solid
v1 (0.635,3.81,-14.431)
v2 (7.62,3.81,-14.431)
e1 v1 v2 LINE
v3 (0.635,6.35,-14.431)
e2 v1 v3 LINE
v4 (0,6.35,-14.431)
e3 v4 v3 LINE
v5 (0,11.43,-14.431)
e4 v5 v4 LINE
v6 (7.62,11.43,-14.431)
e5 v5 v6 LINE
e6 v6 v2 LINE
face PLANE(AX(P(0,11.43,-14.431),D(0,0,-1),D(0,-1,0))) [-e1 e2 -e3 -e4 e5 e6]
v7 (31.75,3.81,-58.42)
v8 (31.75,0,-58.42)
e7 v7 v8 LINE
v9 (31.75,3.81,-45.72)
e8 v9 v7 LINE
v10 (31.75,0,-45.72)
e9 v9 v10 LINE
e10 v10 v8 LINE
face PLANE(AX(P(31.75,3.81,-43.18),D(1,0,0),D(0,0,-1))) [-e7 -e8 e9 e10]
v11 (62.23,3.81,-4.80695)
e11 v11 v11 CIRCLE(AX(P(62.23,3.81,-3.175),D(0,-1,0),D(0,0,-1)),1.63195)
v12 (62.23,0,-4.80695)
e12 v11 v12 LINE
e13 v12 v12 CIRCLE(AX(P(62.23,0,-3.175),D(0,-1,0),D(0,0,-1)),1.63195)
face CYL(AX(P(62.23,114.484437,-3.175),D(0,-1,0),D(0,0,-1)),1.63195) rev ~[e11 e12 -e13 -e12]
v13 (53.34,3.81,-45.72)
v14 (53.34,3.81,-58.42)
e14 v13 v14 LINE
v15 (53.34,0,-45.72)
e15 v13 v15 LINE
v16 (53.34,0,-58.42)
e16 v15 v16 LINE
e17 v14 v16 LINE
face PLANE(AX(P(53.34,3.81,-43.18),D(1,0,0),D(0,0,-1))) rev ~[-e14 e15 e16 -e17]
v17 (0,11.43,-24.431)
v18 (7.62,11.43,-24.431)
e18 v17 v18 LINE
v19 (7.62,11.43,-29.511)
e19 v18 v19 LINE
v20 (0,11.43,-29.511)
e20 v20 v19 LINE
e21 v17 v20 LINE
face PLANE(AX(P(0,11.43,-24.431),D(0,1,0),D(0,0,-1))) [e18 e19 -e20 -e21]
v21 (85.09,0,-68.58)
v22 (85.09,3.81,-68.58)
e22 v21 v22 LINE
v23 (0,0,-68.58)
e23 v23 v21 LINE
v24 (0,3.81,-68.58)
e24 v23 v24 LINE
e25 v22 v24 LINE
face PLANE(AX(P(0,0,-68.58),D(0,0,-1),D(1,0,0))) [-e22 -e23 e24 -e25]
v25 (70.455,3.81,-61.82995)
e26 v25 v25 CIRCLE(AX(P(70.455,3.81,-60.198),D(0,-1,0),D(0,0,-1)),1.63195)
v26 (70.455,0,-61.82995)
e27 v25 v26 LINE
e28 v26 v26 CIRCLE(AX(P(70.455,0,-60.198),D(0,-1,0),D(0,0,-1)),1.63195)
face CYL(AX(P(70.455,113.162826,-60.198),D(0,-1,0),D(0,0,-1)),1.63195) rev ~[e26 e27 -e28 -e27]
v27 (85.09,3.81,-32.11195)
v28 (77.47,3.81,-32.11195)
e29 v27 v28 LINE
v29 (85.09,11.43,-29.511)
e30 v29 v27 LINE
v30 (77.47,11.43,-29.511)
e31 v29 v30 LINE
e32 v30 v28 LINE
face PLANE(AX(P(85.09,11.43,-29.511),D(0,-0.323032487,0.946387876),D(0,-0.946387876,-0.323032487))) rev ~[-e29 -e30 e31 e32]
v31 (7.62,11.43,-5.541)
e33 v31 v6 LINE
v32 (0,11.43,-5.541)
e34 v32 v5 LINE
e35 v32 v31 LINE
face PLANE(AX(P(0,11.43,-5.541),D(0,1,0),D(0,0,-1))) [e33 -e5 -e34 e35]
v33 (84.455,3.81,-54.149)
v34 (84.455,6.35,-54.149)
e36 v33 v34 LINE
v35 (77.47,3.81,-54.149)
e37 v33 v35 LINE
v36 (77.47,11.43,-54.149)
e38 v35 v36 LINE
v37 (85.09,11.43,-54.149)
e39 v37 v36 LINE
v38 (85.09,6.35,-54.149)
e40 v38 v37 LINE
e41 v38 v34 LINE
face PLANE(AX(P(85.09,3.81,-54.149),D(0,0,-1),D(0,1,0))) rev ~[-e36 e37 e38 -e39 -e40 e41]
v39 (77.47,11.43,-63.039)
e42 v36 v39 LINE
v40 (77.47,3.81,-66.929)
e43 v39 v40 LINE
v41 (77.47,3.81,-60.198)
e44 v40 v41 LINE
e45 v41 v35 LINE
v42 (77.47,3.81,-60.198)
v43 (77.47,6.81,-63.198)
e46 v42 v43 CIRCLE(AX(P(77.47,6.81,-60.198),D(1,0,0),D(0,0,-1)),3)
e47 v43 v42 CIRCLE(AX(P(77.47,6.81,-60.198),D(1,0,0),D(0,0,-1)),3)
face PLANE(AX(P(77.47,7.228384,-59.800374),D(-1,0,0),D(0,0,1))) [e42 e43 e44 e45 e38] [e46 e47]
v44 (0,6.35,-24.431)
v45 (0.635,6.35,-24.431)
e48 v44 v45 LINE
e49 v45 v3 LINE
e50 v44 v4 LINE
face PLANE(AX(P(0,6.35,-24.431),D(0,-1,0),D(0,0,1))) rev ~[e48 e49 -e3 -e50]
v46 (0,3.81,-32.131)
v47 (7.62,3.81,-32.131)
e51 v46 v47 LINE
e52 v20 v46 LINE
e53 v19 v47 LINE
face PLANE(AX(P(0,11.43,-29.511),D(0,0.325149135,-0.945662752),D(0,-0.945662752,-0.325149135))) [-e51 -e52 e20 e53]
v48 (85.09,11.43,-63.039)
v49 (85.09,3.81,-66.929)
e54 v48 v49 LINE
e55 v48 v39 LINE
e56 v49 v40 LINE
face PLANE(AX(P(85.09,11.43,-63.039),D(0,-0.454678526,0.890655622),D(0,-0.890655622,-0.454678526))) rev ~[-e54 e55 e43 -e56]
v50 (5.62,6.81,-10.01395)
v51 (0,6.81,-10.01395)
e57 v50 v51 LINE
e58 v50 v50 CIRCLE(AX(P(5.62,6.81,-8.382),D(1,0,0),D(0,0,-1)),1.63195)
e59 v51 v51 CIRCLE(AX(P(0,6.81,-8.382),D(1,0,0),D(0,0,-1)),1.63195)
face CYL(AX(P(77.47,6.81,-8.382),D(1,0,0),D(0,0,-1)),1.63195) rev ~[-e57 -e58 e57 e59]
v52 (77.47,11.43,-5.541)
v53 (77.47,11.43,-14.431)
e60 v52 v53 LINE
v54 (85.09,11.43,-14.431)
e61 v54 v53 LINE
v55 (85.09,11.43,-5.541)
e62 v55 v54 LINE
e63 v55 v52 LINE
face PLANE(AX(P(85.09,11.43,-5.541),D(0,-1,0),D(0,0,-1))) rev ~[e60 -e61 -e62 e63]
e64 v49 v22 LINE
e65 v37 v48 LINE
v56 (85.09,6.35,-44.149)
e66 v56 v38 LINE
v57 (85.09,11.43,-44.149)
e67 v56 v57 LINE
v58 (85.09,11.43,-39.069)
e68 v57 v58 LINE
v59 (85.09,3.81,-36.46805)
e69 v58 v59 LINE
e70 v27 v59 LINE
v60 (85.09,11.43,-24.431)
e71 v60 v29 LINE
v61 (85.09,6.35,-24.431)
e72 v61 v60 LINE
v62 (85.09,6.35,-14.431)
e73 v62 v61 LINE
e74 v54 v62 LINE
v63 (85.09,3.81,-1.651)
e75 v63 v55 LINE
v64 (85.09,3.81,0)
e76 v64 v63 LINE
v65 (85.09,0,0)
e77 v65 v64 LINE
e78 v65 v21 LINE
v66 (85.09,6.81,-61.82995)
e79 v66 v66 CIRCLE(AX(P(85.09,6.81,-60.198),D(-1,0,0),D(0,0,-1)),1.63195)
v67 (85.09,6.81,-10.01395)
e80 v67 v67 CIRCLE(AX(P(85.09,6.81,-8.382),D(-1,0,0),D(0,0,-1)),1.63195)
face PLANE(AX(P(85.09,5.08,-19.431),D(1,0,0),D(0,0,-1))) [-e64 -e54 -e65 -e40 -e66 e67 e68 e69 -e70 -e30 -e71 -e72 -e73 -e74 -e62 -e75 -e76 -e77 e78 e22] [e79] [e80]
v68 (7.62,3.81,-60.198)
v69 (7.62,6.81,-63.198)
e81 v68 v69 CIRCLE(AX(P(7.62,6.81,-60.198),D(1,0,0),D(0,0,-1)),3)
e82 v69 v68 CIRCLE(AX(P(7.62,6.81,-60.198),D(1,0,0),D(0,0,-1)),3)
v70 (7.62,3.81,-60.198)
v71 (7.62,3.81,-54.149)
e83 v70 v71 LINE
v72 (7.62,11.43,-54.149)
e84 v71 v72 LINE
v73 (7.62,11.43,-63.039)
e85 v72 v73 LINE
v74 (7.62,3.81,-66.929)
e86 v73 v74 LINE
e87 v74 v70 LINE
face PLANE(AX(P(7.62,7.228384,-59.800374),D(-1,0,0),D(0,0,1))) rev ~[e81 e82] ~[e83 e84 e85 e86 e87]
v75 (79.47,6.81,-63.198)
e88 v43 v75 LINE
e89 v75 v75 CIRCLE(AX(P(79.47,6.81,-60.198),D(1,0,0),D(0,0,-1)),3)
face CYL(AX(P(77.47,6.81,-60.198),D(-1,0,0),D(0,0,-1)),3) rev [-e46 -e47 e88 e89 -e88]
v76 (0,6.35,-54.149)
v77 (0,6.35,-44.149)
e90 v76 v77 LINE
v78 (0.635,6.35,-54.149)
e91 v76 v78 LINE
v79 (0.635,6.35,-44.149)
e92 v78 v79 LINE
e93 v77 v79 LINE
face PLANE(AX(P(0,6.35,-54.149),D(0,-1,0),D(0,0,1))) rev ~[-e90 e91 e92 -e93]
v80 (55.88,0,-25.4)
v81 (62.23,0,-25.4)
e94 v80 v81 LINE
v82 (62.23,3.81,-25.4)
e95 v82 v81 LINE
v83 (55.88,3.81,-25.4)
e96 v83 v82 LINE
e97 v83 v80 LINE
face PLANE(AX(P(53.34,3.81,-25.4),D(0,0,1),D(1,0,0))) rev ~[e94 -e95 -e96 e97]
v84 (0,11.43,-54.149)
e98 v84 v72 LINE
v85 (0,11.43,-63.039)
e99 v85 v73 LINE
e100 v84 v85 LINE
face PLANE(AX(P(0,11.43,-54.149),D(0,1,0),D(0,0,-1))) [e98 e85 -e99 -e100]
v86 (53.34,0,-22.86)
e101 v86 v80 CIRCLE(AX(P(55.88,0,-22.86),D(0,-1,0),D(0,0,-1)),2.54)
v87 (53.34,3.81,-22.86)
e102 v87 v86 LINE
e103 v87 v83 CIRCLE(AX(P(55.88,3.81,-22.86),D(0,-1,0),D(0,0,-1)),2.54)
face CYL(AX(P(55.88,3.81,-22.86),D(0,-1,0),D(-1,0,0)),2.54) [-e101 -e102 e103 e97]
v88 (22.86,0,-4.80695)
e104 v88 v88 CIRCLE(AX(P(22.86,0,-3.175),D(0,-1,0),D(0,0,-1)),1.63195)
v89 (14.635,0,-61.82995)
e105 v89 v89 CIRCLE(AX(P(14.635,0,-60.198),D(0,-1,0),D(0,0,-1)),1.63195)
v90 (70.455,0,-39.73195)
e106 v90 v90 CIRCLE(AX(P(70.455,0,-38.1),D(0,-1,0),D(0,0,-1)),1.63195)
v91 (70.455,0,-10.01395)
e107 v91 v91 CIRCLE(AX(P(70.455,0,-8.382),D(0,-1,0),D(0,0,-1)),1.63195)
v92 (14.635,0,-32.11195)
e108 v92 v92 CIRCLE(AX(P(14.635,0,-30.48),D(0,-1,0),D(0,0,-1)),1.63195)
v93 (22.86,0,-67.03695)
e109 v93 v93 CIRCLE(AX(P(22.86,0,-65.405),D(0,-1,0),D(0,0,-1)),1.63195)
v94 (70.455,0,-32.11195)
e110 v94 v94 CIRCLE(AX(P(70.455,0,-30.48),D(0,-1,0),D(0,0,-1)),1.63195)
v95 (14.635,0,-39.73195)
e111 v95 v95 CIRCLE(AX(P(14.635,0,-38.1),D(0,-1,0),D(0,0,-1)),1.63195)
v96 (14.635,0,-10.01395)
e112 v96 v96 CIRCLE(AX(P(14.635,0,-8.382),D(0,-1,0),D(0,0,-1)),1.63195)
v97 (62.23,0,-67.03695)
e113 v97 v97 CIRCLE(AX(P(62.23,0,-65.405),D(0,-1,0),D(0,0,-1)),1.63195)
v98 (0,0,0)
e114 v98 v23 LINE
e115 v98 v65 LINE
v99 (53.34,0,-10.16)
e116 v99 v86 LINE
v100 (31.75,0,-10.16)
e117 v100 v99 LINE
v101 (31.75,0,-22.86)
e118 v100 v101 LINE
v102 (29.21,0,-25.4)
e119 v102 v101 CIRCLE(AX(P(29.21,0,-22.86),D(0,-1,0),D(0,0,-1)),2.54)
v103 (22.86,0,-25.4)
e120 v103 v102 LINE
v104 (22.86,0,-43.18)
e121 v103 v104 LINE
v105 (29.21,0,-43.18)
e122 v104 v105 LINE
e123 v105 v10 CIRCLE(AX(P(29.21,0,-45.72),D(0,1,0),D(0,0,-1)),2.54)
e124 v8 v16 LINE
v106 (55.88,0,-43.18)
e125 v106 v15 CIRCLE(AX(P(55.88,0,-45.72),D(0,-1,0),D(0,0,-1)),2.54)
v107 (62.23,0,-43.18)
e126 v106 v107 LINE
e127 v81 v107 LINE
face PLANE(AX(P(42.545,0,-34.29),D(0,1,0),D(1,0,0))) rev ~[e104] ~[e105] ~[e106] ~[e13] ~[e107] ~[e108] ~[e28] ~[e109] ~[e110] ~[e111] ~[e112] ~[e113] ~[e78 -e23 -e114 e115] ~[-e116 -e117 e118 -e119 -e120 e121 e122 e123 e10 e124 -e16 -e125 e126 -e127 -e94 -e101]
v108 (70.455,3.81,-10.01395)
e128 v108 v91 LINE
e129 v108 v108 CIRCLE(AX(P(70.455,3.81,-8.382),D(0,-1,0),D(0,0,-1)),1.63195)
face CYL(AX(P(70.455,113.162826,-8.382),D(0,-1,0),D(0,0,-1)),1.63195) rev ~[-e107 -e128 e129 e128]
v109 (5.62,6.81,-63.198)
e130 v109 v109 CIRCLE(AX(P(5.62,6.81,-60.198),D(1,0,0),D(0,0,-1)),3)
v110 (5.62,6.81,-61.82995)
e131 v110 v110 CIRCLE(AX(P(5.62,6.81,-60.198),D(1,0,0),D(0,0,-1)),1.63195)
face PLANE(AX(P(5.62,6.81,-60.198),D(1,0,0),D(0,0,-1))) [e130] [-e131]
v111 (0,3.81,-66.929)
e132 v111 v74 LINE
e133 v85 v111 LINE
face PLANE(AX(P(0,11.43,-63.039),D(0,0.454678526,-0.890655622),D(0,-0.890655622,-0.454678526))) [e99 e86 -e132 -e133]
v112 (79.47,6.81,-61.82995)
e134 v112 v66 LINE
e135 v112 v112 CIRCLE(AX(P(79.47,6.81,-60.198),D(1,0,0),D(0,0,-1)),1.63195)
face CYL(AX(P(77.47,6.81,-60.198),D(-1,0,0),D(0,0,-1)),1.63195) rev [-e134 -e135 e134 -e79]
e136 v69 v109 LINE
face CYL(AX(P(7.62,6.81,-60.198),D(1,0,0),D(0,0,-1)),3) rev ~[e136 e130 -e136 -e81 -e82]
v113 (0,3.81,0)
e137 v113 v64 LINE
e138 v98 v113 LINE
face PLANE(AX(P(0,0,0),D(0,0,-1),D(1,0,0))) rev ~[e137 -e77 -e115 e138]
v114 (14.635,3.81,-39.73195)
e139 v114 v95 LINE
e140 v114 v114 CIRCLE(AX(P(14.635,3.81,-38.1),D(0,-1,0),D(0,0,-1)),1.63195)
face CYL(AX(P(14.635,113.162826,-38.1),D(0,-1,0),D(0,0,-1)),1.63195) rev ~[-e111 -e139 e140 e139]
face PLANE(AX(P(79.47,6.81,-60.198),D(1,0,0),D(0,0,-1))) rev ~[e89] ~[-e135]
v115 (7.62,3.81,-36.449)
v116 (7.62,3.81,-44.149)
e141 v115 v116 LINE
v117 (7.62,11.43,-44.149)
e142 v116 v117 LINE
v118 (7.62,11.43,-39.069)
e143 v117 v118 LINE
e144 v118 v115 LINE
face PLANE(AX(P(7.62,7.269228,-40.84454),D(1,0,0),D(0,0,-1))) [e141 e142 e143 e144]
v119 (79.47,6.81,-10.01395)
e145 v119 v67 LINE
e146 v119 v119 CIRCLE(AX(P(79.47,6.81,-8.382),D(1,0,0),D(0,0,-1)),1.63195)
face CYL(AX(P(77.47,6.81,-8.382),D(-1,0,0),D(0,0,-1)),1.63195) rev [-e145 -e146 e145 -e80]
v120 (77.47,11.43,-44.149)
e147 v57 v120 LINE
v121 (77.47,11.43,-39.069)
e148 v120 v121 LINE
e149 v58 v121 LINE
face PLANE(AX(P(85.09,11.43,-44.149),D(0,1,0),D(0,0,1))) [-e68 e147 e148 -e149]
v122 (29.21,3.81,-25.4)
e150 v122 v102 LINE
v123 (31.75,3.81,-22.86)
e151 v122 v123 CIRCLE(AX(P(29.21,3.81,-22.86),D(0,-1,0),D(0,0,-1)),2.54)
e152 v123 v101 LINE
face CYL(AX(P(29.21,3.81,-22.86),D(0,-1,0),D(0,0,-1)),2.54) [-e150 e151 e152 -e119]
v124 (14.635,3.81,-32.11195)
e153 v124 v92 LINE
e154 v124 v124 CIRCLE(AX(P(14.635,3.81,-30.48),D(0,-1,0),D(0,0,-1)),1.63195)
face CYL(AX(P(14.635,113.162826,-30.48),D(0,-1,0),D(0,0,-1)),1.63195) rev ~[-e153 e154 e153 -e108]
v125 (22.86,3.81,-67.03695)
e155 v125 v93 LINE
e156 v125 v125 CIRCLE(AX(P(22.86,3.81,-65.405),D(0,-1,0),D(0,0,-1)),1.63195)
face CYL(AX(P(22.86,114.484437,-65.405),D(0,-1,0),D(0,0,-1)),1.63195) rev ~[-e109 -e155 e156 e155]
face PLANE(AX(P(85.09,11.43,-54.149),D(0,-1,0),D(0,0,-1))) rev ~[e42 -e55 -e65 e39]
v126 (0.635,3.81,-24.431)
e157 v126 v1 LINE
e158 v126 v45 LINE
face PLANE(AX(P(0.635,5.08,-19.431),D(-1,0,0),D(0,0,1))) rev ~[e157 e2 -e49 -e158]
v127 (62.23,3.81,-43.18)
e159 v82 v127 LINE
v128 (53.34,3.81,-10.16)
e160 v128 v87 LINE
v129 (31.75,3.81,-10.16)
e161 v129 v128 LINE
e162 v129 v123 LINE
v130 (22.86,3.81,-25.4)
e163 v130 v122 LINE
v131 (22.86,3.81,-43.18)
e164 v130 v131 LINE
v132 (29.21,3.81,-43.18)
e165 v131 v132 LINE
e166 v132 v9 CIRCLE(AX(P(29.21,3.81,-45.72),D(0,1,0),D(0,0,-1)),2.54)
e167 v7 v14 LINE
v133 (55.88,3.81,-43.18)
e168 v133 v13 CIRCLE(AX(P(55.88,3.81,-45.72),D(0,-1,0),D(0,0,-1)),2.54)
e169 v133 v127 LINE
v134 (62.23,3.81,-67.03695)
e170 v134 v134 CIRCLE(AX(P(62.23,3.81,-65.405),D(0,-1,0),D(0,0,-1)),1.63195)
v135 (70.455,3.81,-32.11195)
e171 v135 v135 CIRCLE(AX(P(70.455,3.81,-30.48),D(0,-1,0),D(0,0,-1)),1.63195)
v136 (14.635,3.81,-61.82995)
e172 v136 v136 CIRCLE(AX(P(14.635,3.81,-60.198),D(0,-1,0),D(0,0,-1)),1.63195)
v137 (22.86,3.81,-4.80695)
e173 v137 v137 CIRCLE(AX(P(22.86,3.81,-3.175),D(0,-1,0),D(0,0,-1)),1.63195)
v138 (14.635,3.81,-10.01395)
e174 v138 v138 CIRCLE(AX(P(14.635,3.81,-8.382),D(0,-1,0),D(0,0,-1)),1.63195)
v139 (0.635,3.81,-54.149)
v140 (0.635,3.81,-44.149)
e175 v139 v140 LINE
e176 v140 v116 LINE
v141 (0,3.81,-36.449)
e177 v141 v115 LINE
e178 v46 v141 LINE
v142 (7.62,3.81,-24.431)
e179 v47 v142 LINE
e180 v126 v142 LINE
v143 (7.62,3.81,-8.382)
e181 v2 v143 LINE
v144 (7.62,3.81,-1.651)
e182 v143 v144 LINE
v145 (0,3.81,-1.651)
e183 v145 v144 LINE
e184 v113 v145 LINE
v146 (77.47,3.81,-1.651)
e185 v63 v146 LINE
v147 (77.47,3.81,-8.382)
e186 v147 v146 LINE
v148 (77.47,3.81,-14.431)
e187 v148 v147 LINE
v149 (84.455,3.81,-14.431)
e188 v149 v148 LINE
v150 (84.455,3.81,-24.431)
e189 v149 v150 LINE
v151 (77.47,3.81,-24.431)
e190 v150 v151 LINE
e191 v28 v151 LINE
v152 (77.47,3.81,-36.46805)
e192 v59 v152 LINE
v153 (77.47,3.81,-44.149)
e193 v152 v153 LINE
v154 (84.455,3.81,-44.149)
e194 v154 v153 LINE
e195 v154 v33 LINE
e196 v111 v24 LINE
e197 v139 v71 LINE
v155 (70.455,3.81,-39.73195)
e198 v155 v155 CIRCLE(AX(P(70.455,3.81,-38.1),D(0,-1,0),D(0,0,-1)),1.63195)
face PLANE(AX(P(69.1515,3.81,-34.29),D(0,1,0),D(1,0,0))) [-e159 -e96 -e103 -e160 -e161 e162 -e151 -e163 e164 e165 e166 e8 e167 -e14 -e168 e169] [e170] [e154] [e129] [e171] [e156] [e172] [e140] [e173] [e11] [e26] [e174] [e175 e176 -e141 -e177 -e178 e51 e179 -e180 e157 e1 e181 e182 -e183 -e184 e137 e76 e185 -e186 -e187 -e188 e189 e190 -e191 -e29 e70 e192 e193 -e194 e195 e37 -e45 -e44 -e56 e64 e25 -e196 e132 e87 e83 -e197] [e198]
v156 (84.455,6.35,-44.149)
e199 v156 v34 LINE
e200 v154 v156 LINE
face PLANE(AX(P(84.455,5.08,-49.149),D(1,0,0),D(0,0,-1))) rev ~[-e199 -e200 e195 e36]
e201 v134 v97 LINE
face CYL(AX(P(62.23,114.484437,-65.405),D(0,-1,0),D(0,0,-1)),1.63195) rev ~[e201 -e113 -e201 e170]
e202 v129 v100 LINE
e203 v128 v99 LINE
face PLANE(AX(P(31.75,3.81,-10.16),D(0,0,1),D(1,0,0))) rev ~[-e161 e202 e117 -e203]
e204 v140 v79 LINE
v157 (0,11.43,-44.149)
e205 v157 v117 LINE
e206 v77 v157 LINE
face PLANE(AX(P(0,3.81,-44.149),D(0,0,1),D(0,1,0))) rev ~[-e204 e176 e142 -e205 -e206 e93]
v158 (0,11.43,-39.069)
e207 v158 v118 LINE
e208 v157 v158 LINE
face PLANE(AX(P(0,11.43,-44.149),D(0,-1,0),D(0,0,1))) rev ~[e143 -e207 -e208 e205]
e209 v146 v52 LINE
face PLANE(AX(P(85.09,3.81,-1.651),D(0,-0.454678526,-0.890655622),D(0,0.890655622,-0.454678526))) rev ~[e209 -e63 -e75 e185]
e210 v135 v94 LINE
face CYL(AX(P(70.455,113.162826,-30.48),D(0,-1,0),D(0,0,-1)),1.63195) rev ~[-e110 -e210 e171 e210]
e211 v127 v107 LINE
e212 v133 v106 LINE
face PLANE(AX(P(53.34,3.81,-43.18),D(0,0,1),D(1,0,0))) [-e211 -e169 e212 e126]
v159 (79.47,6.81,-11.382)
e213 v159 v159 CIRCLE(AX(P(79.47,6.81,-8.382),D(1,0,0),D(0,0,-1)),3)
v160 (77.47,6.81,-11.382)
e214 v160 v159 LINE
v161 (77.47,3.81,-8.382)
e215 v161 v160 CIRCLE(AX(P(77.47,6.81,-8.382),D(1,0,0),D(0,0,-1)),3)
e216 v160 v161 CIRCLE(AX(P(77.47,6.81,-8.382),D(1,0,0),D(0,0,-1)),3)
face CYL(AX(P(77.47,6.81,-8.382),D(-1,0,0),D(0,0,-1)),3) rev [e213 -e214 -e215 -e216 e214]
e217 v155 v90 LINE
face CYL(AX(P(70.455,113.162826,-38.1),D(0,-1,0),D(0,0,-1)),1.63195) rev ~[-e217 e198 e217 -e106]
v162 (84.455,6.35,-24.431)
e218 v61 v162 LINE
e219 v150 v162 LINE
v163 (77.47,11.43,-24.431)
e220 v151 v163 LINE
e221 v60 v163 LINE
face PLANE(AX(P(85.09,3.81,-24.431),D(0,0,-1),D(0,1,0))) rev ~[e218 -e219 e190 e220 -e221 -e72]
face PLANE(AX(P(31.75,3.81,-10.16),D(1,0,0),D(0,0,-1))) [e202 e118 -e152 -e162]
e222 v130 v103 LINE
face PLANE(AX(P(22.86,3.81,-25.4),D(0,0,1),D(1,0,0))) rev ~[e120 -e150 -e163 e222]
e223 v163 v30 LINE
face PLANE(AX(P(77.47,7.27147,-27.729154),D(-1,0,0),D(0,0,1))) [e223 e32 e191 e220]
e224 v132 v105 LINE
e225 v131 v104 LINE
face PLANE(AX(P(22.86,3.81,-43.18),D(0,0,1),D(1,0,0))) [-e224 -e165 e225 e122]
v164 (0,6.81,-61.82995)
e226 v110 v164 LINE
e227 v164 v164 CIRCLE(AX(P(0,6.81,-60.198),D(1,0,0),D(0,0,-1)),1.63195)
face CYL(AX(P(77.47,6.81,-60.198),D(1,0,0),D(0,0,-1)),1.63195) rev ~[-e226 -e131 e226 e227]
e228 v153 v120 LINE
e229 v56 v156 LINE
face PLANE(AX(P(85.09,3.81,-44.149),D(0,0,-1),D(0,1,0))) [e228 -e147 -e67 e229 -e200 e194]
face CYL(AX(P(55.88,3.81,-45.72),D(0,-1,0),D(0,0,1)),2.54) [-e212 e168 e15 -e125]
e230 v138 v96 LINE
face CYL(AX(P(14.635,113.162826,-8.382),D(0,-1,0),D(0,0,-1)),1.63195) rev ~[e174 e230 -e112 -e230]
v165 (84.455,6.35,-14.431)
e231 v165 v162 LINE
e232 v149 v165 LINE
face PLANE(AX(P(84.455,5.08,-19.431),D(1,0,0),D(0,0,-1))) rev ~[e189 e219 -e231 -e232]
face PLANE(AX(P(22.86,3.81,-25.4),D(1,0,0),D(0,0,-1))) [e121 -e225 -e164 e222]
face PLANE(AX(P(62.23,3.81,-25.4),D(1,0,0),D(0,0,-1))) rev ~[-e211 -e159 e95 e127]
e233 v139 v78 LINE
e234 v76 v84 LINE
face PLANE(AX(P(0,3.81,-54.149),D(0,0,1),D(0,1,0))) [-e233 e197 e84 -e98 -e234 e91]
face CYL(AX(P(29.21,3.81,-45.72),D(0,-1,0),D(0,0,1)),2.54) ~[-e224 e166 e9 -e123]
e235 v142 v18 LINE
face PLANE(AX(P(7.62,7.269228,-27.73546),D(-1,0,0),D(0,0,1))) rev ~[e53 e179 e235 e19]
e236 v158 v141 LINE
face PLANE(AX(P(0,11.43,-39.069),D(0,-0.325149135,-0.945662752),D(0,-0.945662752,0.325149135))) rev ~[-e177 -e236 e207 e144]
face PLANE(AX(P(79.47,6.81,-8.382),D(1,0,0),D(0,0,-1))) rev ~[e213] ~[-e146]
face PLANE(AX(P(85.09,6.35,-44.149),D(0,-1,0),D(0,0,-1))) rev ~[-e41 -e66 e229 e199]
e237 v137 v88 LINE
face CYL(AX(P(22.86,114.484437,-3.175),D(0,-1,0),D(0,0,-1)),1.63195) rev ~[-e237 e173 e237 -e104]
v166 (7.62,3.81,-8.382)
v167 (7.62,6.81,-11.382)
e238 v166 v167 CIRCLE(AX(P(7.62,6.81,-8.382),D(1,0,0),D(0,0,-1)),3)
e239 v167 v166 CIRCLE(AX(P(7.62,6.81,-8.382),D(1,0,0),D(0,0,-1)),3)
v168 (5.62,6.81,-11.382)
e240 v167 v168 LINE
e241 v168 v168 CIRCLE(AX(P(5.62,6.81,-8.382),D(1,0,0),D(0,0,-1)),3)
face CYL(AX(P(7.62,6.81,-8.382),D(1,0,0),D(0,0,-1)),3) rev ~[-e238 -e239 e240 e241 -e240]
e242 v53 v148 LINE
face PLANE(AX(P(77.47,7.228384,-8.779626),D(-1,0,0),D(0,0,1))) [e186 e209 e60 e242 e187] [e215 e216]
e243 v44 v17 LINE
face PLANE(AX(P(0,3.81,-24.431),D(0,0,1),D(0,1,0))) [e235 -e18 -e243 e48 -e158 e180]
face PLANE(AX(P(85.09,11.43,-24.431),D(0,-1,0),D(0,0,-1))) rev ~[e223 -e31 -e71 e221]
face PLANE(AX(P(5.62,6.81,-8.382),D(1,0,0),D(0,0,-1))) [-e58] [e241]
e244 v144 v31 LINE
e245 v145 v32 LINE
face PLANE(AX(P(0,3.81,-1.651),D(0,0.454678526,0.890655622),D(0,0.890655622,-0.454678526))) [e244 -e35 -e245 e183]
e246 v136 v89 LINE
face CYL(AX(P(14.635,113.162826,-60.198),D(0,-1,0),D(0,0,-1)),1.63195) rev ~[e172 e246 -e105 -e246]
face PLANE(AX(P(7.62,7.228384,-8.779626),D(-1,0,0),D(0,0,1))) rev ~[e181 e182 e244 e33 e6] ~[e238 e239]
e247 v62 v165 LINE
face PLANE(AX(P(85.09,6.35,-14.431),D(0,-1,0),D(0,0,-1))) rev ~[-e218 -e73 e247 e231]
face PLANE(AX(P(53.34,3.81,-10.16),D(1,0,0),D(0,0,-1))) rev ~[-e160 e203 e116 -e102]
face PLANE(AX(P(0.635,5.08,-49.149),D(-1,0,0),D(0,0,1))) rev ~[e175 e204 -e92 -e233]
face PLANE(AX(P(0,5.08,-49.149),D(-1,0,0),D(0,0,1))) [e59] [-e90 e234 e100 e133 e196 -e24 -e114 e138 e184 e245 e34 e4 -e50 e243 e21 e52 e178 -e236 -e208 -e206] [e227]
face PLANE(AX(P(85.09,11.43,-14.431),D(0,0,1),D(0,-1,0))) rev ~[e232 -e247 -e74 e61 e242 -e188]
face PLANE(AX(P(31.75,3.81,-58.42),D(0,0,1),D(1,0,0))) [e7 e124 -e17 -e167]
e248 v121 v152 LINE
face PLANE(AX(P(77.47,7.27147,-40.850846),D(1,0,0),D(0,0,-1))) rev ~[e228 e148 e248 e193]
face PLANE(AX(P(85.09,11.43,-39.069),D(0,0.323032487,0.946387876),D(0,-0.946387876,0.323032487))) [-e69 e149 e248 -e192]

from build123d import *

# Parameters (mm, degrees)
SKETCH1_W                    = 85.09
SKETCH1_H                    = 68.58
BOSS_EXTRUDE1_DEPTH          = 5.08
F_30_0_1285_DIAMETER_HOLE1_D = 3.2639
SKETCH3_W                    = 31.877
SKETCH3_H                    = 68.58
SKETCH3_W_2                  = 53.213
CUT_EXTRUDE1_DEPTH           = 1.27
F_30_0_1285_DIAMETER_HOLE2_D = 3.2639
BOSS_EXTRUDE2_DEPTH          = 7.62
SKETCH10_W                   = 10
SKETCH10_H                   = 2.54
BOSS_EXTRUDE3_DEPTH          = 0.635
BOSS_EXTRUDE4_DEPTH          = 7.62
SKETCH12_W                   = 10
SKETCH12_H                   = 2.54
BOSS_EXTRUDE5_DEPTH          = 0.635
SKETCH13_W                   = 21.59
SKETCH13_H                   = 15.24
SKETCH13_W_2                 = 8.89
SKETCH13_H_2                 = 17.78
CUT_EXTRUDE3_DEPTH           = 4.81
FILLET1_R                    = 2.54
CUT_EXTRUDE4_START           = -7.62
SKETCH14_R                   = 1.63195
CUT_EXTRUDE4_DEPTH           = 8.62
CUT_EXTRUDE4_DEPTH_BACK      = 86.09
CUT_EXTRUDE5_START           = -7.62
SKETCH14_3_R                 = 3
SKETCH14_3_R_2               = 1.63195
CUT_EXTRUDE5_DEPTH           = 2
CUT_EXTRUDE6_START           = -77.47
SKETCH14_4_R                 = 3
SKETCH14_4_R_2               = 1.63195
CUT_EXTRUDE6_DEPTH           = 2


with BuildPart() as part:
    # Sketch1 → Boss-Extrude1 (new body)
    with BuildSketch(Plane(origin=(0, 0, 0), x_dir=(1, 0, 0), z_dir=(0, 1, 0))):
        with Locations((42.545, 34.29)):
            Rectangle(SKETCH1_W, SKETCH1_H)
    extrude(amount=BOSS_EXTRUDE1_DEPTH)

    # #30 (0.1285) Diameter Hole1 (through all)
    with Locations(Plane(origin=(62.23, 5.08, -65.405), x_dir=(0, 0, 1), z_dir=(0, 1, 0))):
        with Locations((0, 0), (0, -39.37), (62.23, -39.37), (62.23, 0)):
            Hole(F_30_0_1285_DIAMETER_HOLE1_D / 2)

    # Sketch3 → Cut-Extrude1 (cut)
    with BuildSketch(Plane(origin=(0, 5.08, 0), x_dir=(1, 0, 0), z_dir=(0, 1, 0))):
        with Locations((69.1515, 34.29)):
            Rectangle(SKETCH3_W, SKETCH3_H)
        with Locations((26.6065, 34.29)):
            Rectangle(SKETCH3_W_2, SKETCH3_H)
    extrude(amount=-CUT_EXTRUDE1_DEPTH, mode=Mode.SUBTRACT)

    # #30 (0.1285) Diameter Hole2 (through all)
    with Locations(Plane(origin=(70.455, 3.81, -38.1), x_dir=(0, 0, 1), z_dir=(0, 1, 0))):
        with Locations((0, 0), (-22.098, 0), (7.62, 0), (29.718, 0), (29.718, -55.82), (7.62, -55.82), (0, -55.82), (-22.098, -55.82)):
            Hole(F_30_0_1285_DIAMETER_HOLE2_D / 2)

    # Sketch9 → Boss-Extrude2 (add)
    with BuildSketch(Plane.ZY):
        Polygon((-14.431, 3.81), (-1.651, 3.81), (-5.541, 11.43), (-14.431, 11.43), align=None)
        Polygon((-24.431, 3.81), (-24.431, 11.43), (-29.511, 11.43), (-32.131, 3.81), align=None)
        Polygon((-44.149, 3.81), (-44.149, 11.43), (-39.069, 11.43), (-36.449, 3.81), align=None)
        Polygon((-54.149, 3.81), (-54.149, 11.43), (-63.039, 11.43), (-66.929, 3.81), align=None)
    extrude(amount=-BOSS_EXTRUDE2_DEPTH)

    # Sketch10 → Boss-Extrude3 (add)
    with BuildSketch(Plane.ZY):
        with Locations((-49.149, 5.08)):
            Rectangle(SKETCH10_W, SKETCH10_H)
        with Locations((-19.431, 5.08)):
            Rectangle(SKETCH10_W, SKETCH10_H)
    extrude(amount=-BOSS_EXTRUDE3_DEPTH)

    # Sketch11 → Boss-Extrude4 (add)
    with BuildSketch(Plane(origin=(85.09, 0, 0), x_dir=(0, 0, -1), z_dir=(1, 0, 0))):
        Polygon((24.431, 3.81), (24.431, 11.43), (29.511, 11.43), (32.11195, 3.81), align=None)
        Polygon((44.149, 3.81), (44.149, 11.43), (39.069, 11.43), (36.46805, 3.81), align=None)
        Polygon((14.431, 11.43), (14.431, 3.81), (1.651, 3.81), (5.541, 11.43), align=None)
        Polygon((63.039, 11.43), (66.929, 3.81), (54.149, 3.81), (54.149, 11.43), align=None)
    extrude(amount=-BOSS_EXTRUDE4_DEPTH)

    # Sketch12 → Boss-Extrude5 (add)
    with BuildSketch(Plane(origin=(85.09, 0, 0), x_dir=(0, 0, -1), z_dir=(1, 0, 0))):
        with Locations((19.431, 5.08)):
            Rectangle(SKETCH12_W, SKETCH12_H)
        with Locations((49.149, 5.08)):
            Rectangle(SKETCH12_W, SKETCH12_H)
    extrude(amount=-BOSS_EXTRUDE5_DEPTH)

    # Sketch13 → Cut-Extrude3 (cut, through all)
    with BuildSketch(Plane(origin=(0, 3.81, 0), x_dir=(1, 0, 0), z_dir=(0, 1, 0))):
        with Locations((42.545, 50.8)):
            Rectangle(SKETCH13_W, SKETCH13_H)
        with Locations((27.305, 34.29)):
            Rectangle(SKETCH13_W_2, SKETCH13_H_2)
        with Locations((42.545, 34.29)):
            Rectangle(SKETCH13_W, SKETCH13_H_2)
        with Locations((57.785, 34.29)):
            Rectangle(SKETCH13_W_2, SKETCH13_H_2)
        with Locations((42.545, 17.78)):
            Rectangle(SKETCH13_W, SKETCH13_H)
    extrude(amount=-CUT_EXTRUDE3_DEPTH, mode=Mode.SUBTRACT)

    # Fillet1
    fillet1_edges = [part.edges().sort_by_distance(p)[0] for p in [
        (31.75, 1.905, -43.18),
        (53.34, 1.905, -43.18),
        (53.34, 1.905, -25.4),
        (31.75, 1.905, -25.4),
    ]]
    fillet(fillet1_edges, radius=FILLET1_R)

    # Sketch14 → Cut-Extrude4 (cut, two sides)
    with BuildSketch(Plane(origin=(85.09, 0, 0), x_dir=(0, 0, -1), z_dir=(1, 0, 0)).offset(CUT_EXTRUDE4_START)) as cut_extrude4_sk:
        with Locations((8.382, 6.81)):
            Circle(SKETCH14_R)
        with Locations((60.198, 6.81)):
            Circle(SKETCH14_R)
    extrude(amount=CUT_EXTRUDE4_DEPTH, mode=Mode.SUBTRACT)
    extrude(cut_extrude4_sk.sketch, amount=-CUT_EXTRUDE4_DEPTH_BACK, mode=Mode.SUBTRACT)

    # Sketch14<3> → Cut-Extrude5 (cut)
    with BuildSketch(Plane(origin=(85.09, 0, 0), x_dir=(0, 0, -1), z_dir=(1, 0, 0)).offset(CUT_EXTRUDE5_START)):
        with Locations((8.382, 6.81)):
            Circle(SKETCH14_3_R)
        with Locations((8.382, 6.81)):
            Circle(SKETCH14_3_R_2, mode=Mode.SUBTRACT)
        with Locations((60.198, 6.81)):
            Circle(SKETCH14_3_R)
        with Locations((60.198, 6.81)):
            Circle(SKETCH14_3_R_2, mode=Mode.SUBTRACT)
    extrude(amount=CUT_EXTRUDE5_DEPTH, mode=Mode.SUBTRACT)

    # Sketch14<4> → Cut-Extrude6 (cut)
    with BuildSketch(Plane(origin=(85.09, 0, 0), x_dir=(0, 0, -1), z_dir=(1, 0, 0)).offset(CUT_EXTRUDE6_START)):
        with Locations((8.382, 6.81)):
            Circle(SKETCH14_4_R)
        with Locations((8.382, 6.81)):
            Circle(SKETCH14_4_R_2, mode=Mode.SUBTRACT)
        with Locations((60.198, 6.81)):
            Circle(SKETCH14_4_R)
        with Locations((60.198, 6.81)):
            Circle(SKETCH14_4_R_2, mode=Mode.SUBTRACT)
    extrude(amount=-CUT_EXTRUDE6_DEPTH, mode=Mode.SUBTRACT)


solid = part.part
